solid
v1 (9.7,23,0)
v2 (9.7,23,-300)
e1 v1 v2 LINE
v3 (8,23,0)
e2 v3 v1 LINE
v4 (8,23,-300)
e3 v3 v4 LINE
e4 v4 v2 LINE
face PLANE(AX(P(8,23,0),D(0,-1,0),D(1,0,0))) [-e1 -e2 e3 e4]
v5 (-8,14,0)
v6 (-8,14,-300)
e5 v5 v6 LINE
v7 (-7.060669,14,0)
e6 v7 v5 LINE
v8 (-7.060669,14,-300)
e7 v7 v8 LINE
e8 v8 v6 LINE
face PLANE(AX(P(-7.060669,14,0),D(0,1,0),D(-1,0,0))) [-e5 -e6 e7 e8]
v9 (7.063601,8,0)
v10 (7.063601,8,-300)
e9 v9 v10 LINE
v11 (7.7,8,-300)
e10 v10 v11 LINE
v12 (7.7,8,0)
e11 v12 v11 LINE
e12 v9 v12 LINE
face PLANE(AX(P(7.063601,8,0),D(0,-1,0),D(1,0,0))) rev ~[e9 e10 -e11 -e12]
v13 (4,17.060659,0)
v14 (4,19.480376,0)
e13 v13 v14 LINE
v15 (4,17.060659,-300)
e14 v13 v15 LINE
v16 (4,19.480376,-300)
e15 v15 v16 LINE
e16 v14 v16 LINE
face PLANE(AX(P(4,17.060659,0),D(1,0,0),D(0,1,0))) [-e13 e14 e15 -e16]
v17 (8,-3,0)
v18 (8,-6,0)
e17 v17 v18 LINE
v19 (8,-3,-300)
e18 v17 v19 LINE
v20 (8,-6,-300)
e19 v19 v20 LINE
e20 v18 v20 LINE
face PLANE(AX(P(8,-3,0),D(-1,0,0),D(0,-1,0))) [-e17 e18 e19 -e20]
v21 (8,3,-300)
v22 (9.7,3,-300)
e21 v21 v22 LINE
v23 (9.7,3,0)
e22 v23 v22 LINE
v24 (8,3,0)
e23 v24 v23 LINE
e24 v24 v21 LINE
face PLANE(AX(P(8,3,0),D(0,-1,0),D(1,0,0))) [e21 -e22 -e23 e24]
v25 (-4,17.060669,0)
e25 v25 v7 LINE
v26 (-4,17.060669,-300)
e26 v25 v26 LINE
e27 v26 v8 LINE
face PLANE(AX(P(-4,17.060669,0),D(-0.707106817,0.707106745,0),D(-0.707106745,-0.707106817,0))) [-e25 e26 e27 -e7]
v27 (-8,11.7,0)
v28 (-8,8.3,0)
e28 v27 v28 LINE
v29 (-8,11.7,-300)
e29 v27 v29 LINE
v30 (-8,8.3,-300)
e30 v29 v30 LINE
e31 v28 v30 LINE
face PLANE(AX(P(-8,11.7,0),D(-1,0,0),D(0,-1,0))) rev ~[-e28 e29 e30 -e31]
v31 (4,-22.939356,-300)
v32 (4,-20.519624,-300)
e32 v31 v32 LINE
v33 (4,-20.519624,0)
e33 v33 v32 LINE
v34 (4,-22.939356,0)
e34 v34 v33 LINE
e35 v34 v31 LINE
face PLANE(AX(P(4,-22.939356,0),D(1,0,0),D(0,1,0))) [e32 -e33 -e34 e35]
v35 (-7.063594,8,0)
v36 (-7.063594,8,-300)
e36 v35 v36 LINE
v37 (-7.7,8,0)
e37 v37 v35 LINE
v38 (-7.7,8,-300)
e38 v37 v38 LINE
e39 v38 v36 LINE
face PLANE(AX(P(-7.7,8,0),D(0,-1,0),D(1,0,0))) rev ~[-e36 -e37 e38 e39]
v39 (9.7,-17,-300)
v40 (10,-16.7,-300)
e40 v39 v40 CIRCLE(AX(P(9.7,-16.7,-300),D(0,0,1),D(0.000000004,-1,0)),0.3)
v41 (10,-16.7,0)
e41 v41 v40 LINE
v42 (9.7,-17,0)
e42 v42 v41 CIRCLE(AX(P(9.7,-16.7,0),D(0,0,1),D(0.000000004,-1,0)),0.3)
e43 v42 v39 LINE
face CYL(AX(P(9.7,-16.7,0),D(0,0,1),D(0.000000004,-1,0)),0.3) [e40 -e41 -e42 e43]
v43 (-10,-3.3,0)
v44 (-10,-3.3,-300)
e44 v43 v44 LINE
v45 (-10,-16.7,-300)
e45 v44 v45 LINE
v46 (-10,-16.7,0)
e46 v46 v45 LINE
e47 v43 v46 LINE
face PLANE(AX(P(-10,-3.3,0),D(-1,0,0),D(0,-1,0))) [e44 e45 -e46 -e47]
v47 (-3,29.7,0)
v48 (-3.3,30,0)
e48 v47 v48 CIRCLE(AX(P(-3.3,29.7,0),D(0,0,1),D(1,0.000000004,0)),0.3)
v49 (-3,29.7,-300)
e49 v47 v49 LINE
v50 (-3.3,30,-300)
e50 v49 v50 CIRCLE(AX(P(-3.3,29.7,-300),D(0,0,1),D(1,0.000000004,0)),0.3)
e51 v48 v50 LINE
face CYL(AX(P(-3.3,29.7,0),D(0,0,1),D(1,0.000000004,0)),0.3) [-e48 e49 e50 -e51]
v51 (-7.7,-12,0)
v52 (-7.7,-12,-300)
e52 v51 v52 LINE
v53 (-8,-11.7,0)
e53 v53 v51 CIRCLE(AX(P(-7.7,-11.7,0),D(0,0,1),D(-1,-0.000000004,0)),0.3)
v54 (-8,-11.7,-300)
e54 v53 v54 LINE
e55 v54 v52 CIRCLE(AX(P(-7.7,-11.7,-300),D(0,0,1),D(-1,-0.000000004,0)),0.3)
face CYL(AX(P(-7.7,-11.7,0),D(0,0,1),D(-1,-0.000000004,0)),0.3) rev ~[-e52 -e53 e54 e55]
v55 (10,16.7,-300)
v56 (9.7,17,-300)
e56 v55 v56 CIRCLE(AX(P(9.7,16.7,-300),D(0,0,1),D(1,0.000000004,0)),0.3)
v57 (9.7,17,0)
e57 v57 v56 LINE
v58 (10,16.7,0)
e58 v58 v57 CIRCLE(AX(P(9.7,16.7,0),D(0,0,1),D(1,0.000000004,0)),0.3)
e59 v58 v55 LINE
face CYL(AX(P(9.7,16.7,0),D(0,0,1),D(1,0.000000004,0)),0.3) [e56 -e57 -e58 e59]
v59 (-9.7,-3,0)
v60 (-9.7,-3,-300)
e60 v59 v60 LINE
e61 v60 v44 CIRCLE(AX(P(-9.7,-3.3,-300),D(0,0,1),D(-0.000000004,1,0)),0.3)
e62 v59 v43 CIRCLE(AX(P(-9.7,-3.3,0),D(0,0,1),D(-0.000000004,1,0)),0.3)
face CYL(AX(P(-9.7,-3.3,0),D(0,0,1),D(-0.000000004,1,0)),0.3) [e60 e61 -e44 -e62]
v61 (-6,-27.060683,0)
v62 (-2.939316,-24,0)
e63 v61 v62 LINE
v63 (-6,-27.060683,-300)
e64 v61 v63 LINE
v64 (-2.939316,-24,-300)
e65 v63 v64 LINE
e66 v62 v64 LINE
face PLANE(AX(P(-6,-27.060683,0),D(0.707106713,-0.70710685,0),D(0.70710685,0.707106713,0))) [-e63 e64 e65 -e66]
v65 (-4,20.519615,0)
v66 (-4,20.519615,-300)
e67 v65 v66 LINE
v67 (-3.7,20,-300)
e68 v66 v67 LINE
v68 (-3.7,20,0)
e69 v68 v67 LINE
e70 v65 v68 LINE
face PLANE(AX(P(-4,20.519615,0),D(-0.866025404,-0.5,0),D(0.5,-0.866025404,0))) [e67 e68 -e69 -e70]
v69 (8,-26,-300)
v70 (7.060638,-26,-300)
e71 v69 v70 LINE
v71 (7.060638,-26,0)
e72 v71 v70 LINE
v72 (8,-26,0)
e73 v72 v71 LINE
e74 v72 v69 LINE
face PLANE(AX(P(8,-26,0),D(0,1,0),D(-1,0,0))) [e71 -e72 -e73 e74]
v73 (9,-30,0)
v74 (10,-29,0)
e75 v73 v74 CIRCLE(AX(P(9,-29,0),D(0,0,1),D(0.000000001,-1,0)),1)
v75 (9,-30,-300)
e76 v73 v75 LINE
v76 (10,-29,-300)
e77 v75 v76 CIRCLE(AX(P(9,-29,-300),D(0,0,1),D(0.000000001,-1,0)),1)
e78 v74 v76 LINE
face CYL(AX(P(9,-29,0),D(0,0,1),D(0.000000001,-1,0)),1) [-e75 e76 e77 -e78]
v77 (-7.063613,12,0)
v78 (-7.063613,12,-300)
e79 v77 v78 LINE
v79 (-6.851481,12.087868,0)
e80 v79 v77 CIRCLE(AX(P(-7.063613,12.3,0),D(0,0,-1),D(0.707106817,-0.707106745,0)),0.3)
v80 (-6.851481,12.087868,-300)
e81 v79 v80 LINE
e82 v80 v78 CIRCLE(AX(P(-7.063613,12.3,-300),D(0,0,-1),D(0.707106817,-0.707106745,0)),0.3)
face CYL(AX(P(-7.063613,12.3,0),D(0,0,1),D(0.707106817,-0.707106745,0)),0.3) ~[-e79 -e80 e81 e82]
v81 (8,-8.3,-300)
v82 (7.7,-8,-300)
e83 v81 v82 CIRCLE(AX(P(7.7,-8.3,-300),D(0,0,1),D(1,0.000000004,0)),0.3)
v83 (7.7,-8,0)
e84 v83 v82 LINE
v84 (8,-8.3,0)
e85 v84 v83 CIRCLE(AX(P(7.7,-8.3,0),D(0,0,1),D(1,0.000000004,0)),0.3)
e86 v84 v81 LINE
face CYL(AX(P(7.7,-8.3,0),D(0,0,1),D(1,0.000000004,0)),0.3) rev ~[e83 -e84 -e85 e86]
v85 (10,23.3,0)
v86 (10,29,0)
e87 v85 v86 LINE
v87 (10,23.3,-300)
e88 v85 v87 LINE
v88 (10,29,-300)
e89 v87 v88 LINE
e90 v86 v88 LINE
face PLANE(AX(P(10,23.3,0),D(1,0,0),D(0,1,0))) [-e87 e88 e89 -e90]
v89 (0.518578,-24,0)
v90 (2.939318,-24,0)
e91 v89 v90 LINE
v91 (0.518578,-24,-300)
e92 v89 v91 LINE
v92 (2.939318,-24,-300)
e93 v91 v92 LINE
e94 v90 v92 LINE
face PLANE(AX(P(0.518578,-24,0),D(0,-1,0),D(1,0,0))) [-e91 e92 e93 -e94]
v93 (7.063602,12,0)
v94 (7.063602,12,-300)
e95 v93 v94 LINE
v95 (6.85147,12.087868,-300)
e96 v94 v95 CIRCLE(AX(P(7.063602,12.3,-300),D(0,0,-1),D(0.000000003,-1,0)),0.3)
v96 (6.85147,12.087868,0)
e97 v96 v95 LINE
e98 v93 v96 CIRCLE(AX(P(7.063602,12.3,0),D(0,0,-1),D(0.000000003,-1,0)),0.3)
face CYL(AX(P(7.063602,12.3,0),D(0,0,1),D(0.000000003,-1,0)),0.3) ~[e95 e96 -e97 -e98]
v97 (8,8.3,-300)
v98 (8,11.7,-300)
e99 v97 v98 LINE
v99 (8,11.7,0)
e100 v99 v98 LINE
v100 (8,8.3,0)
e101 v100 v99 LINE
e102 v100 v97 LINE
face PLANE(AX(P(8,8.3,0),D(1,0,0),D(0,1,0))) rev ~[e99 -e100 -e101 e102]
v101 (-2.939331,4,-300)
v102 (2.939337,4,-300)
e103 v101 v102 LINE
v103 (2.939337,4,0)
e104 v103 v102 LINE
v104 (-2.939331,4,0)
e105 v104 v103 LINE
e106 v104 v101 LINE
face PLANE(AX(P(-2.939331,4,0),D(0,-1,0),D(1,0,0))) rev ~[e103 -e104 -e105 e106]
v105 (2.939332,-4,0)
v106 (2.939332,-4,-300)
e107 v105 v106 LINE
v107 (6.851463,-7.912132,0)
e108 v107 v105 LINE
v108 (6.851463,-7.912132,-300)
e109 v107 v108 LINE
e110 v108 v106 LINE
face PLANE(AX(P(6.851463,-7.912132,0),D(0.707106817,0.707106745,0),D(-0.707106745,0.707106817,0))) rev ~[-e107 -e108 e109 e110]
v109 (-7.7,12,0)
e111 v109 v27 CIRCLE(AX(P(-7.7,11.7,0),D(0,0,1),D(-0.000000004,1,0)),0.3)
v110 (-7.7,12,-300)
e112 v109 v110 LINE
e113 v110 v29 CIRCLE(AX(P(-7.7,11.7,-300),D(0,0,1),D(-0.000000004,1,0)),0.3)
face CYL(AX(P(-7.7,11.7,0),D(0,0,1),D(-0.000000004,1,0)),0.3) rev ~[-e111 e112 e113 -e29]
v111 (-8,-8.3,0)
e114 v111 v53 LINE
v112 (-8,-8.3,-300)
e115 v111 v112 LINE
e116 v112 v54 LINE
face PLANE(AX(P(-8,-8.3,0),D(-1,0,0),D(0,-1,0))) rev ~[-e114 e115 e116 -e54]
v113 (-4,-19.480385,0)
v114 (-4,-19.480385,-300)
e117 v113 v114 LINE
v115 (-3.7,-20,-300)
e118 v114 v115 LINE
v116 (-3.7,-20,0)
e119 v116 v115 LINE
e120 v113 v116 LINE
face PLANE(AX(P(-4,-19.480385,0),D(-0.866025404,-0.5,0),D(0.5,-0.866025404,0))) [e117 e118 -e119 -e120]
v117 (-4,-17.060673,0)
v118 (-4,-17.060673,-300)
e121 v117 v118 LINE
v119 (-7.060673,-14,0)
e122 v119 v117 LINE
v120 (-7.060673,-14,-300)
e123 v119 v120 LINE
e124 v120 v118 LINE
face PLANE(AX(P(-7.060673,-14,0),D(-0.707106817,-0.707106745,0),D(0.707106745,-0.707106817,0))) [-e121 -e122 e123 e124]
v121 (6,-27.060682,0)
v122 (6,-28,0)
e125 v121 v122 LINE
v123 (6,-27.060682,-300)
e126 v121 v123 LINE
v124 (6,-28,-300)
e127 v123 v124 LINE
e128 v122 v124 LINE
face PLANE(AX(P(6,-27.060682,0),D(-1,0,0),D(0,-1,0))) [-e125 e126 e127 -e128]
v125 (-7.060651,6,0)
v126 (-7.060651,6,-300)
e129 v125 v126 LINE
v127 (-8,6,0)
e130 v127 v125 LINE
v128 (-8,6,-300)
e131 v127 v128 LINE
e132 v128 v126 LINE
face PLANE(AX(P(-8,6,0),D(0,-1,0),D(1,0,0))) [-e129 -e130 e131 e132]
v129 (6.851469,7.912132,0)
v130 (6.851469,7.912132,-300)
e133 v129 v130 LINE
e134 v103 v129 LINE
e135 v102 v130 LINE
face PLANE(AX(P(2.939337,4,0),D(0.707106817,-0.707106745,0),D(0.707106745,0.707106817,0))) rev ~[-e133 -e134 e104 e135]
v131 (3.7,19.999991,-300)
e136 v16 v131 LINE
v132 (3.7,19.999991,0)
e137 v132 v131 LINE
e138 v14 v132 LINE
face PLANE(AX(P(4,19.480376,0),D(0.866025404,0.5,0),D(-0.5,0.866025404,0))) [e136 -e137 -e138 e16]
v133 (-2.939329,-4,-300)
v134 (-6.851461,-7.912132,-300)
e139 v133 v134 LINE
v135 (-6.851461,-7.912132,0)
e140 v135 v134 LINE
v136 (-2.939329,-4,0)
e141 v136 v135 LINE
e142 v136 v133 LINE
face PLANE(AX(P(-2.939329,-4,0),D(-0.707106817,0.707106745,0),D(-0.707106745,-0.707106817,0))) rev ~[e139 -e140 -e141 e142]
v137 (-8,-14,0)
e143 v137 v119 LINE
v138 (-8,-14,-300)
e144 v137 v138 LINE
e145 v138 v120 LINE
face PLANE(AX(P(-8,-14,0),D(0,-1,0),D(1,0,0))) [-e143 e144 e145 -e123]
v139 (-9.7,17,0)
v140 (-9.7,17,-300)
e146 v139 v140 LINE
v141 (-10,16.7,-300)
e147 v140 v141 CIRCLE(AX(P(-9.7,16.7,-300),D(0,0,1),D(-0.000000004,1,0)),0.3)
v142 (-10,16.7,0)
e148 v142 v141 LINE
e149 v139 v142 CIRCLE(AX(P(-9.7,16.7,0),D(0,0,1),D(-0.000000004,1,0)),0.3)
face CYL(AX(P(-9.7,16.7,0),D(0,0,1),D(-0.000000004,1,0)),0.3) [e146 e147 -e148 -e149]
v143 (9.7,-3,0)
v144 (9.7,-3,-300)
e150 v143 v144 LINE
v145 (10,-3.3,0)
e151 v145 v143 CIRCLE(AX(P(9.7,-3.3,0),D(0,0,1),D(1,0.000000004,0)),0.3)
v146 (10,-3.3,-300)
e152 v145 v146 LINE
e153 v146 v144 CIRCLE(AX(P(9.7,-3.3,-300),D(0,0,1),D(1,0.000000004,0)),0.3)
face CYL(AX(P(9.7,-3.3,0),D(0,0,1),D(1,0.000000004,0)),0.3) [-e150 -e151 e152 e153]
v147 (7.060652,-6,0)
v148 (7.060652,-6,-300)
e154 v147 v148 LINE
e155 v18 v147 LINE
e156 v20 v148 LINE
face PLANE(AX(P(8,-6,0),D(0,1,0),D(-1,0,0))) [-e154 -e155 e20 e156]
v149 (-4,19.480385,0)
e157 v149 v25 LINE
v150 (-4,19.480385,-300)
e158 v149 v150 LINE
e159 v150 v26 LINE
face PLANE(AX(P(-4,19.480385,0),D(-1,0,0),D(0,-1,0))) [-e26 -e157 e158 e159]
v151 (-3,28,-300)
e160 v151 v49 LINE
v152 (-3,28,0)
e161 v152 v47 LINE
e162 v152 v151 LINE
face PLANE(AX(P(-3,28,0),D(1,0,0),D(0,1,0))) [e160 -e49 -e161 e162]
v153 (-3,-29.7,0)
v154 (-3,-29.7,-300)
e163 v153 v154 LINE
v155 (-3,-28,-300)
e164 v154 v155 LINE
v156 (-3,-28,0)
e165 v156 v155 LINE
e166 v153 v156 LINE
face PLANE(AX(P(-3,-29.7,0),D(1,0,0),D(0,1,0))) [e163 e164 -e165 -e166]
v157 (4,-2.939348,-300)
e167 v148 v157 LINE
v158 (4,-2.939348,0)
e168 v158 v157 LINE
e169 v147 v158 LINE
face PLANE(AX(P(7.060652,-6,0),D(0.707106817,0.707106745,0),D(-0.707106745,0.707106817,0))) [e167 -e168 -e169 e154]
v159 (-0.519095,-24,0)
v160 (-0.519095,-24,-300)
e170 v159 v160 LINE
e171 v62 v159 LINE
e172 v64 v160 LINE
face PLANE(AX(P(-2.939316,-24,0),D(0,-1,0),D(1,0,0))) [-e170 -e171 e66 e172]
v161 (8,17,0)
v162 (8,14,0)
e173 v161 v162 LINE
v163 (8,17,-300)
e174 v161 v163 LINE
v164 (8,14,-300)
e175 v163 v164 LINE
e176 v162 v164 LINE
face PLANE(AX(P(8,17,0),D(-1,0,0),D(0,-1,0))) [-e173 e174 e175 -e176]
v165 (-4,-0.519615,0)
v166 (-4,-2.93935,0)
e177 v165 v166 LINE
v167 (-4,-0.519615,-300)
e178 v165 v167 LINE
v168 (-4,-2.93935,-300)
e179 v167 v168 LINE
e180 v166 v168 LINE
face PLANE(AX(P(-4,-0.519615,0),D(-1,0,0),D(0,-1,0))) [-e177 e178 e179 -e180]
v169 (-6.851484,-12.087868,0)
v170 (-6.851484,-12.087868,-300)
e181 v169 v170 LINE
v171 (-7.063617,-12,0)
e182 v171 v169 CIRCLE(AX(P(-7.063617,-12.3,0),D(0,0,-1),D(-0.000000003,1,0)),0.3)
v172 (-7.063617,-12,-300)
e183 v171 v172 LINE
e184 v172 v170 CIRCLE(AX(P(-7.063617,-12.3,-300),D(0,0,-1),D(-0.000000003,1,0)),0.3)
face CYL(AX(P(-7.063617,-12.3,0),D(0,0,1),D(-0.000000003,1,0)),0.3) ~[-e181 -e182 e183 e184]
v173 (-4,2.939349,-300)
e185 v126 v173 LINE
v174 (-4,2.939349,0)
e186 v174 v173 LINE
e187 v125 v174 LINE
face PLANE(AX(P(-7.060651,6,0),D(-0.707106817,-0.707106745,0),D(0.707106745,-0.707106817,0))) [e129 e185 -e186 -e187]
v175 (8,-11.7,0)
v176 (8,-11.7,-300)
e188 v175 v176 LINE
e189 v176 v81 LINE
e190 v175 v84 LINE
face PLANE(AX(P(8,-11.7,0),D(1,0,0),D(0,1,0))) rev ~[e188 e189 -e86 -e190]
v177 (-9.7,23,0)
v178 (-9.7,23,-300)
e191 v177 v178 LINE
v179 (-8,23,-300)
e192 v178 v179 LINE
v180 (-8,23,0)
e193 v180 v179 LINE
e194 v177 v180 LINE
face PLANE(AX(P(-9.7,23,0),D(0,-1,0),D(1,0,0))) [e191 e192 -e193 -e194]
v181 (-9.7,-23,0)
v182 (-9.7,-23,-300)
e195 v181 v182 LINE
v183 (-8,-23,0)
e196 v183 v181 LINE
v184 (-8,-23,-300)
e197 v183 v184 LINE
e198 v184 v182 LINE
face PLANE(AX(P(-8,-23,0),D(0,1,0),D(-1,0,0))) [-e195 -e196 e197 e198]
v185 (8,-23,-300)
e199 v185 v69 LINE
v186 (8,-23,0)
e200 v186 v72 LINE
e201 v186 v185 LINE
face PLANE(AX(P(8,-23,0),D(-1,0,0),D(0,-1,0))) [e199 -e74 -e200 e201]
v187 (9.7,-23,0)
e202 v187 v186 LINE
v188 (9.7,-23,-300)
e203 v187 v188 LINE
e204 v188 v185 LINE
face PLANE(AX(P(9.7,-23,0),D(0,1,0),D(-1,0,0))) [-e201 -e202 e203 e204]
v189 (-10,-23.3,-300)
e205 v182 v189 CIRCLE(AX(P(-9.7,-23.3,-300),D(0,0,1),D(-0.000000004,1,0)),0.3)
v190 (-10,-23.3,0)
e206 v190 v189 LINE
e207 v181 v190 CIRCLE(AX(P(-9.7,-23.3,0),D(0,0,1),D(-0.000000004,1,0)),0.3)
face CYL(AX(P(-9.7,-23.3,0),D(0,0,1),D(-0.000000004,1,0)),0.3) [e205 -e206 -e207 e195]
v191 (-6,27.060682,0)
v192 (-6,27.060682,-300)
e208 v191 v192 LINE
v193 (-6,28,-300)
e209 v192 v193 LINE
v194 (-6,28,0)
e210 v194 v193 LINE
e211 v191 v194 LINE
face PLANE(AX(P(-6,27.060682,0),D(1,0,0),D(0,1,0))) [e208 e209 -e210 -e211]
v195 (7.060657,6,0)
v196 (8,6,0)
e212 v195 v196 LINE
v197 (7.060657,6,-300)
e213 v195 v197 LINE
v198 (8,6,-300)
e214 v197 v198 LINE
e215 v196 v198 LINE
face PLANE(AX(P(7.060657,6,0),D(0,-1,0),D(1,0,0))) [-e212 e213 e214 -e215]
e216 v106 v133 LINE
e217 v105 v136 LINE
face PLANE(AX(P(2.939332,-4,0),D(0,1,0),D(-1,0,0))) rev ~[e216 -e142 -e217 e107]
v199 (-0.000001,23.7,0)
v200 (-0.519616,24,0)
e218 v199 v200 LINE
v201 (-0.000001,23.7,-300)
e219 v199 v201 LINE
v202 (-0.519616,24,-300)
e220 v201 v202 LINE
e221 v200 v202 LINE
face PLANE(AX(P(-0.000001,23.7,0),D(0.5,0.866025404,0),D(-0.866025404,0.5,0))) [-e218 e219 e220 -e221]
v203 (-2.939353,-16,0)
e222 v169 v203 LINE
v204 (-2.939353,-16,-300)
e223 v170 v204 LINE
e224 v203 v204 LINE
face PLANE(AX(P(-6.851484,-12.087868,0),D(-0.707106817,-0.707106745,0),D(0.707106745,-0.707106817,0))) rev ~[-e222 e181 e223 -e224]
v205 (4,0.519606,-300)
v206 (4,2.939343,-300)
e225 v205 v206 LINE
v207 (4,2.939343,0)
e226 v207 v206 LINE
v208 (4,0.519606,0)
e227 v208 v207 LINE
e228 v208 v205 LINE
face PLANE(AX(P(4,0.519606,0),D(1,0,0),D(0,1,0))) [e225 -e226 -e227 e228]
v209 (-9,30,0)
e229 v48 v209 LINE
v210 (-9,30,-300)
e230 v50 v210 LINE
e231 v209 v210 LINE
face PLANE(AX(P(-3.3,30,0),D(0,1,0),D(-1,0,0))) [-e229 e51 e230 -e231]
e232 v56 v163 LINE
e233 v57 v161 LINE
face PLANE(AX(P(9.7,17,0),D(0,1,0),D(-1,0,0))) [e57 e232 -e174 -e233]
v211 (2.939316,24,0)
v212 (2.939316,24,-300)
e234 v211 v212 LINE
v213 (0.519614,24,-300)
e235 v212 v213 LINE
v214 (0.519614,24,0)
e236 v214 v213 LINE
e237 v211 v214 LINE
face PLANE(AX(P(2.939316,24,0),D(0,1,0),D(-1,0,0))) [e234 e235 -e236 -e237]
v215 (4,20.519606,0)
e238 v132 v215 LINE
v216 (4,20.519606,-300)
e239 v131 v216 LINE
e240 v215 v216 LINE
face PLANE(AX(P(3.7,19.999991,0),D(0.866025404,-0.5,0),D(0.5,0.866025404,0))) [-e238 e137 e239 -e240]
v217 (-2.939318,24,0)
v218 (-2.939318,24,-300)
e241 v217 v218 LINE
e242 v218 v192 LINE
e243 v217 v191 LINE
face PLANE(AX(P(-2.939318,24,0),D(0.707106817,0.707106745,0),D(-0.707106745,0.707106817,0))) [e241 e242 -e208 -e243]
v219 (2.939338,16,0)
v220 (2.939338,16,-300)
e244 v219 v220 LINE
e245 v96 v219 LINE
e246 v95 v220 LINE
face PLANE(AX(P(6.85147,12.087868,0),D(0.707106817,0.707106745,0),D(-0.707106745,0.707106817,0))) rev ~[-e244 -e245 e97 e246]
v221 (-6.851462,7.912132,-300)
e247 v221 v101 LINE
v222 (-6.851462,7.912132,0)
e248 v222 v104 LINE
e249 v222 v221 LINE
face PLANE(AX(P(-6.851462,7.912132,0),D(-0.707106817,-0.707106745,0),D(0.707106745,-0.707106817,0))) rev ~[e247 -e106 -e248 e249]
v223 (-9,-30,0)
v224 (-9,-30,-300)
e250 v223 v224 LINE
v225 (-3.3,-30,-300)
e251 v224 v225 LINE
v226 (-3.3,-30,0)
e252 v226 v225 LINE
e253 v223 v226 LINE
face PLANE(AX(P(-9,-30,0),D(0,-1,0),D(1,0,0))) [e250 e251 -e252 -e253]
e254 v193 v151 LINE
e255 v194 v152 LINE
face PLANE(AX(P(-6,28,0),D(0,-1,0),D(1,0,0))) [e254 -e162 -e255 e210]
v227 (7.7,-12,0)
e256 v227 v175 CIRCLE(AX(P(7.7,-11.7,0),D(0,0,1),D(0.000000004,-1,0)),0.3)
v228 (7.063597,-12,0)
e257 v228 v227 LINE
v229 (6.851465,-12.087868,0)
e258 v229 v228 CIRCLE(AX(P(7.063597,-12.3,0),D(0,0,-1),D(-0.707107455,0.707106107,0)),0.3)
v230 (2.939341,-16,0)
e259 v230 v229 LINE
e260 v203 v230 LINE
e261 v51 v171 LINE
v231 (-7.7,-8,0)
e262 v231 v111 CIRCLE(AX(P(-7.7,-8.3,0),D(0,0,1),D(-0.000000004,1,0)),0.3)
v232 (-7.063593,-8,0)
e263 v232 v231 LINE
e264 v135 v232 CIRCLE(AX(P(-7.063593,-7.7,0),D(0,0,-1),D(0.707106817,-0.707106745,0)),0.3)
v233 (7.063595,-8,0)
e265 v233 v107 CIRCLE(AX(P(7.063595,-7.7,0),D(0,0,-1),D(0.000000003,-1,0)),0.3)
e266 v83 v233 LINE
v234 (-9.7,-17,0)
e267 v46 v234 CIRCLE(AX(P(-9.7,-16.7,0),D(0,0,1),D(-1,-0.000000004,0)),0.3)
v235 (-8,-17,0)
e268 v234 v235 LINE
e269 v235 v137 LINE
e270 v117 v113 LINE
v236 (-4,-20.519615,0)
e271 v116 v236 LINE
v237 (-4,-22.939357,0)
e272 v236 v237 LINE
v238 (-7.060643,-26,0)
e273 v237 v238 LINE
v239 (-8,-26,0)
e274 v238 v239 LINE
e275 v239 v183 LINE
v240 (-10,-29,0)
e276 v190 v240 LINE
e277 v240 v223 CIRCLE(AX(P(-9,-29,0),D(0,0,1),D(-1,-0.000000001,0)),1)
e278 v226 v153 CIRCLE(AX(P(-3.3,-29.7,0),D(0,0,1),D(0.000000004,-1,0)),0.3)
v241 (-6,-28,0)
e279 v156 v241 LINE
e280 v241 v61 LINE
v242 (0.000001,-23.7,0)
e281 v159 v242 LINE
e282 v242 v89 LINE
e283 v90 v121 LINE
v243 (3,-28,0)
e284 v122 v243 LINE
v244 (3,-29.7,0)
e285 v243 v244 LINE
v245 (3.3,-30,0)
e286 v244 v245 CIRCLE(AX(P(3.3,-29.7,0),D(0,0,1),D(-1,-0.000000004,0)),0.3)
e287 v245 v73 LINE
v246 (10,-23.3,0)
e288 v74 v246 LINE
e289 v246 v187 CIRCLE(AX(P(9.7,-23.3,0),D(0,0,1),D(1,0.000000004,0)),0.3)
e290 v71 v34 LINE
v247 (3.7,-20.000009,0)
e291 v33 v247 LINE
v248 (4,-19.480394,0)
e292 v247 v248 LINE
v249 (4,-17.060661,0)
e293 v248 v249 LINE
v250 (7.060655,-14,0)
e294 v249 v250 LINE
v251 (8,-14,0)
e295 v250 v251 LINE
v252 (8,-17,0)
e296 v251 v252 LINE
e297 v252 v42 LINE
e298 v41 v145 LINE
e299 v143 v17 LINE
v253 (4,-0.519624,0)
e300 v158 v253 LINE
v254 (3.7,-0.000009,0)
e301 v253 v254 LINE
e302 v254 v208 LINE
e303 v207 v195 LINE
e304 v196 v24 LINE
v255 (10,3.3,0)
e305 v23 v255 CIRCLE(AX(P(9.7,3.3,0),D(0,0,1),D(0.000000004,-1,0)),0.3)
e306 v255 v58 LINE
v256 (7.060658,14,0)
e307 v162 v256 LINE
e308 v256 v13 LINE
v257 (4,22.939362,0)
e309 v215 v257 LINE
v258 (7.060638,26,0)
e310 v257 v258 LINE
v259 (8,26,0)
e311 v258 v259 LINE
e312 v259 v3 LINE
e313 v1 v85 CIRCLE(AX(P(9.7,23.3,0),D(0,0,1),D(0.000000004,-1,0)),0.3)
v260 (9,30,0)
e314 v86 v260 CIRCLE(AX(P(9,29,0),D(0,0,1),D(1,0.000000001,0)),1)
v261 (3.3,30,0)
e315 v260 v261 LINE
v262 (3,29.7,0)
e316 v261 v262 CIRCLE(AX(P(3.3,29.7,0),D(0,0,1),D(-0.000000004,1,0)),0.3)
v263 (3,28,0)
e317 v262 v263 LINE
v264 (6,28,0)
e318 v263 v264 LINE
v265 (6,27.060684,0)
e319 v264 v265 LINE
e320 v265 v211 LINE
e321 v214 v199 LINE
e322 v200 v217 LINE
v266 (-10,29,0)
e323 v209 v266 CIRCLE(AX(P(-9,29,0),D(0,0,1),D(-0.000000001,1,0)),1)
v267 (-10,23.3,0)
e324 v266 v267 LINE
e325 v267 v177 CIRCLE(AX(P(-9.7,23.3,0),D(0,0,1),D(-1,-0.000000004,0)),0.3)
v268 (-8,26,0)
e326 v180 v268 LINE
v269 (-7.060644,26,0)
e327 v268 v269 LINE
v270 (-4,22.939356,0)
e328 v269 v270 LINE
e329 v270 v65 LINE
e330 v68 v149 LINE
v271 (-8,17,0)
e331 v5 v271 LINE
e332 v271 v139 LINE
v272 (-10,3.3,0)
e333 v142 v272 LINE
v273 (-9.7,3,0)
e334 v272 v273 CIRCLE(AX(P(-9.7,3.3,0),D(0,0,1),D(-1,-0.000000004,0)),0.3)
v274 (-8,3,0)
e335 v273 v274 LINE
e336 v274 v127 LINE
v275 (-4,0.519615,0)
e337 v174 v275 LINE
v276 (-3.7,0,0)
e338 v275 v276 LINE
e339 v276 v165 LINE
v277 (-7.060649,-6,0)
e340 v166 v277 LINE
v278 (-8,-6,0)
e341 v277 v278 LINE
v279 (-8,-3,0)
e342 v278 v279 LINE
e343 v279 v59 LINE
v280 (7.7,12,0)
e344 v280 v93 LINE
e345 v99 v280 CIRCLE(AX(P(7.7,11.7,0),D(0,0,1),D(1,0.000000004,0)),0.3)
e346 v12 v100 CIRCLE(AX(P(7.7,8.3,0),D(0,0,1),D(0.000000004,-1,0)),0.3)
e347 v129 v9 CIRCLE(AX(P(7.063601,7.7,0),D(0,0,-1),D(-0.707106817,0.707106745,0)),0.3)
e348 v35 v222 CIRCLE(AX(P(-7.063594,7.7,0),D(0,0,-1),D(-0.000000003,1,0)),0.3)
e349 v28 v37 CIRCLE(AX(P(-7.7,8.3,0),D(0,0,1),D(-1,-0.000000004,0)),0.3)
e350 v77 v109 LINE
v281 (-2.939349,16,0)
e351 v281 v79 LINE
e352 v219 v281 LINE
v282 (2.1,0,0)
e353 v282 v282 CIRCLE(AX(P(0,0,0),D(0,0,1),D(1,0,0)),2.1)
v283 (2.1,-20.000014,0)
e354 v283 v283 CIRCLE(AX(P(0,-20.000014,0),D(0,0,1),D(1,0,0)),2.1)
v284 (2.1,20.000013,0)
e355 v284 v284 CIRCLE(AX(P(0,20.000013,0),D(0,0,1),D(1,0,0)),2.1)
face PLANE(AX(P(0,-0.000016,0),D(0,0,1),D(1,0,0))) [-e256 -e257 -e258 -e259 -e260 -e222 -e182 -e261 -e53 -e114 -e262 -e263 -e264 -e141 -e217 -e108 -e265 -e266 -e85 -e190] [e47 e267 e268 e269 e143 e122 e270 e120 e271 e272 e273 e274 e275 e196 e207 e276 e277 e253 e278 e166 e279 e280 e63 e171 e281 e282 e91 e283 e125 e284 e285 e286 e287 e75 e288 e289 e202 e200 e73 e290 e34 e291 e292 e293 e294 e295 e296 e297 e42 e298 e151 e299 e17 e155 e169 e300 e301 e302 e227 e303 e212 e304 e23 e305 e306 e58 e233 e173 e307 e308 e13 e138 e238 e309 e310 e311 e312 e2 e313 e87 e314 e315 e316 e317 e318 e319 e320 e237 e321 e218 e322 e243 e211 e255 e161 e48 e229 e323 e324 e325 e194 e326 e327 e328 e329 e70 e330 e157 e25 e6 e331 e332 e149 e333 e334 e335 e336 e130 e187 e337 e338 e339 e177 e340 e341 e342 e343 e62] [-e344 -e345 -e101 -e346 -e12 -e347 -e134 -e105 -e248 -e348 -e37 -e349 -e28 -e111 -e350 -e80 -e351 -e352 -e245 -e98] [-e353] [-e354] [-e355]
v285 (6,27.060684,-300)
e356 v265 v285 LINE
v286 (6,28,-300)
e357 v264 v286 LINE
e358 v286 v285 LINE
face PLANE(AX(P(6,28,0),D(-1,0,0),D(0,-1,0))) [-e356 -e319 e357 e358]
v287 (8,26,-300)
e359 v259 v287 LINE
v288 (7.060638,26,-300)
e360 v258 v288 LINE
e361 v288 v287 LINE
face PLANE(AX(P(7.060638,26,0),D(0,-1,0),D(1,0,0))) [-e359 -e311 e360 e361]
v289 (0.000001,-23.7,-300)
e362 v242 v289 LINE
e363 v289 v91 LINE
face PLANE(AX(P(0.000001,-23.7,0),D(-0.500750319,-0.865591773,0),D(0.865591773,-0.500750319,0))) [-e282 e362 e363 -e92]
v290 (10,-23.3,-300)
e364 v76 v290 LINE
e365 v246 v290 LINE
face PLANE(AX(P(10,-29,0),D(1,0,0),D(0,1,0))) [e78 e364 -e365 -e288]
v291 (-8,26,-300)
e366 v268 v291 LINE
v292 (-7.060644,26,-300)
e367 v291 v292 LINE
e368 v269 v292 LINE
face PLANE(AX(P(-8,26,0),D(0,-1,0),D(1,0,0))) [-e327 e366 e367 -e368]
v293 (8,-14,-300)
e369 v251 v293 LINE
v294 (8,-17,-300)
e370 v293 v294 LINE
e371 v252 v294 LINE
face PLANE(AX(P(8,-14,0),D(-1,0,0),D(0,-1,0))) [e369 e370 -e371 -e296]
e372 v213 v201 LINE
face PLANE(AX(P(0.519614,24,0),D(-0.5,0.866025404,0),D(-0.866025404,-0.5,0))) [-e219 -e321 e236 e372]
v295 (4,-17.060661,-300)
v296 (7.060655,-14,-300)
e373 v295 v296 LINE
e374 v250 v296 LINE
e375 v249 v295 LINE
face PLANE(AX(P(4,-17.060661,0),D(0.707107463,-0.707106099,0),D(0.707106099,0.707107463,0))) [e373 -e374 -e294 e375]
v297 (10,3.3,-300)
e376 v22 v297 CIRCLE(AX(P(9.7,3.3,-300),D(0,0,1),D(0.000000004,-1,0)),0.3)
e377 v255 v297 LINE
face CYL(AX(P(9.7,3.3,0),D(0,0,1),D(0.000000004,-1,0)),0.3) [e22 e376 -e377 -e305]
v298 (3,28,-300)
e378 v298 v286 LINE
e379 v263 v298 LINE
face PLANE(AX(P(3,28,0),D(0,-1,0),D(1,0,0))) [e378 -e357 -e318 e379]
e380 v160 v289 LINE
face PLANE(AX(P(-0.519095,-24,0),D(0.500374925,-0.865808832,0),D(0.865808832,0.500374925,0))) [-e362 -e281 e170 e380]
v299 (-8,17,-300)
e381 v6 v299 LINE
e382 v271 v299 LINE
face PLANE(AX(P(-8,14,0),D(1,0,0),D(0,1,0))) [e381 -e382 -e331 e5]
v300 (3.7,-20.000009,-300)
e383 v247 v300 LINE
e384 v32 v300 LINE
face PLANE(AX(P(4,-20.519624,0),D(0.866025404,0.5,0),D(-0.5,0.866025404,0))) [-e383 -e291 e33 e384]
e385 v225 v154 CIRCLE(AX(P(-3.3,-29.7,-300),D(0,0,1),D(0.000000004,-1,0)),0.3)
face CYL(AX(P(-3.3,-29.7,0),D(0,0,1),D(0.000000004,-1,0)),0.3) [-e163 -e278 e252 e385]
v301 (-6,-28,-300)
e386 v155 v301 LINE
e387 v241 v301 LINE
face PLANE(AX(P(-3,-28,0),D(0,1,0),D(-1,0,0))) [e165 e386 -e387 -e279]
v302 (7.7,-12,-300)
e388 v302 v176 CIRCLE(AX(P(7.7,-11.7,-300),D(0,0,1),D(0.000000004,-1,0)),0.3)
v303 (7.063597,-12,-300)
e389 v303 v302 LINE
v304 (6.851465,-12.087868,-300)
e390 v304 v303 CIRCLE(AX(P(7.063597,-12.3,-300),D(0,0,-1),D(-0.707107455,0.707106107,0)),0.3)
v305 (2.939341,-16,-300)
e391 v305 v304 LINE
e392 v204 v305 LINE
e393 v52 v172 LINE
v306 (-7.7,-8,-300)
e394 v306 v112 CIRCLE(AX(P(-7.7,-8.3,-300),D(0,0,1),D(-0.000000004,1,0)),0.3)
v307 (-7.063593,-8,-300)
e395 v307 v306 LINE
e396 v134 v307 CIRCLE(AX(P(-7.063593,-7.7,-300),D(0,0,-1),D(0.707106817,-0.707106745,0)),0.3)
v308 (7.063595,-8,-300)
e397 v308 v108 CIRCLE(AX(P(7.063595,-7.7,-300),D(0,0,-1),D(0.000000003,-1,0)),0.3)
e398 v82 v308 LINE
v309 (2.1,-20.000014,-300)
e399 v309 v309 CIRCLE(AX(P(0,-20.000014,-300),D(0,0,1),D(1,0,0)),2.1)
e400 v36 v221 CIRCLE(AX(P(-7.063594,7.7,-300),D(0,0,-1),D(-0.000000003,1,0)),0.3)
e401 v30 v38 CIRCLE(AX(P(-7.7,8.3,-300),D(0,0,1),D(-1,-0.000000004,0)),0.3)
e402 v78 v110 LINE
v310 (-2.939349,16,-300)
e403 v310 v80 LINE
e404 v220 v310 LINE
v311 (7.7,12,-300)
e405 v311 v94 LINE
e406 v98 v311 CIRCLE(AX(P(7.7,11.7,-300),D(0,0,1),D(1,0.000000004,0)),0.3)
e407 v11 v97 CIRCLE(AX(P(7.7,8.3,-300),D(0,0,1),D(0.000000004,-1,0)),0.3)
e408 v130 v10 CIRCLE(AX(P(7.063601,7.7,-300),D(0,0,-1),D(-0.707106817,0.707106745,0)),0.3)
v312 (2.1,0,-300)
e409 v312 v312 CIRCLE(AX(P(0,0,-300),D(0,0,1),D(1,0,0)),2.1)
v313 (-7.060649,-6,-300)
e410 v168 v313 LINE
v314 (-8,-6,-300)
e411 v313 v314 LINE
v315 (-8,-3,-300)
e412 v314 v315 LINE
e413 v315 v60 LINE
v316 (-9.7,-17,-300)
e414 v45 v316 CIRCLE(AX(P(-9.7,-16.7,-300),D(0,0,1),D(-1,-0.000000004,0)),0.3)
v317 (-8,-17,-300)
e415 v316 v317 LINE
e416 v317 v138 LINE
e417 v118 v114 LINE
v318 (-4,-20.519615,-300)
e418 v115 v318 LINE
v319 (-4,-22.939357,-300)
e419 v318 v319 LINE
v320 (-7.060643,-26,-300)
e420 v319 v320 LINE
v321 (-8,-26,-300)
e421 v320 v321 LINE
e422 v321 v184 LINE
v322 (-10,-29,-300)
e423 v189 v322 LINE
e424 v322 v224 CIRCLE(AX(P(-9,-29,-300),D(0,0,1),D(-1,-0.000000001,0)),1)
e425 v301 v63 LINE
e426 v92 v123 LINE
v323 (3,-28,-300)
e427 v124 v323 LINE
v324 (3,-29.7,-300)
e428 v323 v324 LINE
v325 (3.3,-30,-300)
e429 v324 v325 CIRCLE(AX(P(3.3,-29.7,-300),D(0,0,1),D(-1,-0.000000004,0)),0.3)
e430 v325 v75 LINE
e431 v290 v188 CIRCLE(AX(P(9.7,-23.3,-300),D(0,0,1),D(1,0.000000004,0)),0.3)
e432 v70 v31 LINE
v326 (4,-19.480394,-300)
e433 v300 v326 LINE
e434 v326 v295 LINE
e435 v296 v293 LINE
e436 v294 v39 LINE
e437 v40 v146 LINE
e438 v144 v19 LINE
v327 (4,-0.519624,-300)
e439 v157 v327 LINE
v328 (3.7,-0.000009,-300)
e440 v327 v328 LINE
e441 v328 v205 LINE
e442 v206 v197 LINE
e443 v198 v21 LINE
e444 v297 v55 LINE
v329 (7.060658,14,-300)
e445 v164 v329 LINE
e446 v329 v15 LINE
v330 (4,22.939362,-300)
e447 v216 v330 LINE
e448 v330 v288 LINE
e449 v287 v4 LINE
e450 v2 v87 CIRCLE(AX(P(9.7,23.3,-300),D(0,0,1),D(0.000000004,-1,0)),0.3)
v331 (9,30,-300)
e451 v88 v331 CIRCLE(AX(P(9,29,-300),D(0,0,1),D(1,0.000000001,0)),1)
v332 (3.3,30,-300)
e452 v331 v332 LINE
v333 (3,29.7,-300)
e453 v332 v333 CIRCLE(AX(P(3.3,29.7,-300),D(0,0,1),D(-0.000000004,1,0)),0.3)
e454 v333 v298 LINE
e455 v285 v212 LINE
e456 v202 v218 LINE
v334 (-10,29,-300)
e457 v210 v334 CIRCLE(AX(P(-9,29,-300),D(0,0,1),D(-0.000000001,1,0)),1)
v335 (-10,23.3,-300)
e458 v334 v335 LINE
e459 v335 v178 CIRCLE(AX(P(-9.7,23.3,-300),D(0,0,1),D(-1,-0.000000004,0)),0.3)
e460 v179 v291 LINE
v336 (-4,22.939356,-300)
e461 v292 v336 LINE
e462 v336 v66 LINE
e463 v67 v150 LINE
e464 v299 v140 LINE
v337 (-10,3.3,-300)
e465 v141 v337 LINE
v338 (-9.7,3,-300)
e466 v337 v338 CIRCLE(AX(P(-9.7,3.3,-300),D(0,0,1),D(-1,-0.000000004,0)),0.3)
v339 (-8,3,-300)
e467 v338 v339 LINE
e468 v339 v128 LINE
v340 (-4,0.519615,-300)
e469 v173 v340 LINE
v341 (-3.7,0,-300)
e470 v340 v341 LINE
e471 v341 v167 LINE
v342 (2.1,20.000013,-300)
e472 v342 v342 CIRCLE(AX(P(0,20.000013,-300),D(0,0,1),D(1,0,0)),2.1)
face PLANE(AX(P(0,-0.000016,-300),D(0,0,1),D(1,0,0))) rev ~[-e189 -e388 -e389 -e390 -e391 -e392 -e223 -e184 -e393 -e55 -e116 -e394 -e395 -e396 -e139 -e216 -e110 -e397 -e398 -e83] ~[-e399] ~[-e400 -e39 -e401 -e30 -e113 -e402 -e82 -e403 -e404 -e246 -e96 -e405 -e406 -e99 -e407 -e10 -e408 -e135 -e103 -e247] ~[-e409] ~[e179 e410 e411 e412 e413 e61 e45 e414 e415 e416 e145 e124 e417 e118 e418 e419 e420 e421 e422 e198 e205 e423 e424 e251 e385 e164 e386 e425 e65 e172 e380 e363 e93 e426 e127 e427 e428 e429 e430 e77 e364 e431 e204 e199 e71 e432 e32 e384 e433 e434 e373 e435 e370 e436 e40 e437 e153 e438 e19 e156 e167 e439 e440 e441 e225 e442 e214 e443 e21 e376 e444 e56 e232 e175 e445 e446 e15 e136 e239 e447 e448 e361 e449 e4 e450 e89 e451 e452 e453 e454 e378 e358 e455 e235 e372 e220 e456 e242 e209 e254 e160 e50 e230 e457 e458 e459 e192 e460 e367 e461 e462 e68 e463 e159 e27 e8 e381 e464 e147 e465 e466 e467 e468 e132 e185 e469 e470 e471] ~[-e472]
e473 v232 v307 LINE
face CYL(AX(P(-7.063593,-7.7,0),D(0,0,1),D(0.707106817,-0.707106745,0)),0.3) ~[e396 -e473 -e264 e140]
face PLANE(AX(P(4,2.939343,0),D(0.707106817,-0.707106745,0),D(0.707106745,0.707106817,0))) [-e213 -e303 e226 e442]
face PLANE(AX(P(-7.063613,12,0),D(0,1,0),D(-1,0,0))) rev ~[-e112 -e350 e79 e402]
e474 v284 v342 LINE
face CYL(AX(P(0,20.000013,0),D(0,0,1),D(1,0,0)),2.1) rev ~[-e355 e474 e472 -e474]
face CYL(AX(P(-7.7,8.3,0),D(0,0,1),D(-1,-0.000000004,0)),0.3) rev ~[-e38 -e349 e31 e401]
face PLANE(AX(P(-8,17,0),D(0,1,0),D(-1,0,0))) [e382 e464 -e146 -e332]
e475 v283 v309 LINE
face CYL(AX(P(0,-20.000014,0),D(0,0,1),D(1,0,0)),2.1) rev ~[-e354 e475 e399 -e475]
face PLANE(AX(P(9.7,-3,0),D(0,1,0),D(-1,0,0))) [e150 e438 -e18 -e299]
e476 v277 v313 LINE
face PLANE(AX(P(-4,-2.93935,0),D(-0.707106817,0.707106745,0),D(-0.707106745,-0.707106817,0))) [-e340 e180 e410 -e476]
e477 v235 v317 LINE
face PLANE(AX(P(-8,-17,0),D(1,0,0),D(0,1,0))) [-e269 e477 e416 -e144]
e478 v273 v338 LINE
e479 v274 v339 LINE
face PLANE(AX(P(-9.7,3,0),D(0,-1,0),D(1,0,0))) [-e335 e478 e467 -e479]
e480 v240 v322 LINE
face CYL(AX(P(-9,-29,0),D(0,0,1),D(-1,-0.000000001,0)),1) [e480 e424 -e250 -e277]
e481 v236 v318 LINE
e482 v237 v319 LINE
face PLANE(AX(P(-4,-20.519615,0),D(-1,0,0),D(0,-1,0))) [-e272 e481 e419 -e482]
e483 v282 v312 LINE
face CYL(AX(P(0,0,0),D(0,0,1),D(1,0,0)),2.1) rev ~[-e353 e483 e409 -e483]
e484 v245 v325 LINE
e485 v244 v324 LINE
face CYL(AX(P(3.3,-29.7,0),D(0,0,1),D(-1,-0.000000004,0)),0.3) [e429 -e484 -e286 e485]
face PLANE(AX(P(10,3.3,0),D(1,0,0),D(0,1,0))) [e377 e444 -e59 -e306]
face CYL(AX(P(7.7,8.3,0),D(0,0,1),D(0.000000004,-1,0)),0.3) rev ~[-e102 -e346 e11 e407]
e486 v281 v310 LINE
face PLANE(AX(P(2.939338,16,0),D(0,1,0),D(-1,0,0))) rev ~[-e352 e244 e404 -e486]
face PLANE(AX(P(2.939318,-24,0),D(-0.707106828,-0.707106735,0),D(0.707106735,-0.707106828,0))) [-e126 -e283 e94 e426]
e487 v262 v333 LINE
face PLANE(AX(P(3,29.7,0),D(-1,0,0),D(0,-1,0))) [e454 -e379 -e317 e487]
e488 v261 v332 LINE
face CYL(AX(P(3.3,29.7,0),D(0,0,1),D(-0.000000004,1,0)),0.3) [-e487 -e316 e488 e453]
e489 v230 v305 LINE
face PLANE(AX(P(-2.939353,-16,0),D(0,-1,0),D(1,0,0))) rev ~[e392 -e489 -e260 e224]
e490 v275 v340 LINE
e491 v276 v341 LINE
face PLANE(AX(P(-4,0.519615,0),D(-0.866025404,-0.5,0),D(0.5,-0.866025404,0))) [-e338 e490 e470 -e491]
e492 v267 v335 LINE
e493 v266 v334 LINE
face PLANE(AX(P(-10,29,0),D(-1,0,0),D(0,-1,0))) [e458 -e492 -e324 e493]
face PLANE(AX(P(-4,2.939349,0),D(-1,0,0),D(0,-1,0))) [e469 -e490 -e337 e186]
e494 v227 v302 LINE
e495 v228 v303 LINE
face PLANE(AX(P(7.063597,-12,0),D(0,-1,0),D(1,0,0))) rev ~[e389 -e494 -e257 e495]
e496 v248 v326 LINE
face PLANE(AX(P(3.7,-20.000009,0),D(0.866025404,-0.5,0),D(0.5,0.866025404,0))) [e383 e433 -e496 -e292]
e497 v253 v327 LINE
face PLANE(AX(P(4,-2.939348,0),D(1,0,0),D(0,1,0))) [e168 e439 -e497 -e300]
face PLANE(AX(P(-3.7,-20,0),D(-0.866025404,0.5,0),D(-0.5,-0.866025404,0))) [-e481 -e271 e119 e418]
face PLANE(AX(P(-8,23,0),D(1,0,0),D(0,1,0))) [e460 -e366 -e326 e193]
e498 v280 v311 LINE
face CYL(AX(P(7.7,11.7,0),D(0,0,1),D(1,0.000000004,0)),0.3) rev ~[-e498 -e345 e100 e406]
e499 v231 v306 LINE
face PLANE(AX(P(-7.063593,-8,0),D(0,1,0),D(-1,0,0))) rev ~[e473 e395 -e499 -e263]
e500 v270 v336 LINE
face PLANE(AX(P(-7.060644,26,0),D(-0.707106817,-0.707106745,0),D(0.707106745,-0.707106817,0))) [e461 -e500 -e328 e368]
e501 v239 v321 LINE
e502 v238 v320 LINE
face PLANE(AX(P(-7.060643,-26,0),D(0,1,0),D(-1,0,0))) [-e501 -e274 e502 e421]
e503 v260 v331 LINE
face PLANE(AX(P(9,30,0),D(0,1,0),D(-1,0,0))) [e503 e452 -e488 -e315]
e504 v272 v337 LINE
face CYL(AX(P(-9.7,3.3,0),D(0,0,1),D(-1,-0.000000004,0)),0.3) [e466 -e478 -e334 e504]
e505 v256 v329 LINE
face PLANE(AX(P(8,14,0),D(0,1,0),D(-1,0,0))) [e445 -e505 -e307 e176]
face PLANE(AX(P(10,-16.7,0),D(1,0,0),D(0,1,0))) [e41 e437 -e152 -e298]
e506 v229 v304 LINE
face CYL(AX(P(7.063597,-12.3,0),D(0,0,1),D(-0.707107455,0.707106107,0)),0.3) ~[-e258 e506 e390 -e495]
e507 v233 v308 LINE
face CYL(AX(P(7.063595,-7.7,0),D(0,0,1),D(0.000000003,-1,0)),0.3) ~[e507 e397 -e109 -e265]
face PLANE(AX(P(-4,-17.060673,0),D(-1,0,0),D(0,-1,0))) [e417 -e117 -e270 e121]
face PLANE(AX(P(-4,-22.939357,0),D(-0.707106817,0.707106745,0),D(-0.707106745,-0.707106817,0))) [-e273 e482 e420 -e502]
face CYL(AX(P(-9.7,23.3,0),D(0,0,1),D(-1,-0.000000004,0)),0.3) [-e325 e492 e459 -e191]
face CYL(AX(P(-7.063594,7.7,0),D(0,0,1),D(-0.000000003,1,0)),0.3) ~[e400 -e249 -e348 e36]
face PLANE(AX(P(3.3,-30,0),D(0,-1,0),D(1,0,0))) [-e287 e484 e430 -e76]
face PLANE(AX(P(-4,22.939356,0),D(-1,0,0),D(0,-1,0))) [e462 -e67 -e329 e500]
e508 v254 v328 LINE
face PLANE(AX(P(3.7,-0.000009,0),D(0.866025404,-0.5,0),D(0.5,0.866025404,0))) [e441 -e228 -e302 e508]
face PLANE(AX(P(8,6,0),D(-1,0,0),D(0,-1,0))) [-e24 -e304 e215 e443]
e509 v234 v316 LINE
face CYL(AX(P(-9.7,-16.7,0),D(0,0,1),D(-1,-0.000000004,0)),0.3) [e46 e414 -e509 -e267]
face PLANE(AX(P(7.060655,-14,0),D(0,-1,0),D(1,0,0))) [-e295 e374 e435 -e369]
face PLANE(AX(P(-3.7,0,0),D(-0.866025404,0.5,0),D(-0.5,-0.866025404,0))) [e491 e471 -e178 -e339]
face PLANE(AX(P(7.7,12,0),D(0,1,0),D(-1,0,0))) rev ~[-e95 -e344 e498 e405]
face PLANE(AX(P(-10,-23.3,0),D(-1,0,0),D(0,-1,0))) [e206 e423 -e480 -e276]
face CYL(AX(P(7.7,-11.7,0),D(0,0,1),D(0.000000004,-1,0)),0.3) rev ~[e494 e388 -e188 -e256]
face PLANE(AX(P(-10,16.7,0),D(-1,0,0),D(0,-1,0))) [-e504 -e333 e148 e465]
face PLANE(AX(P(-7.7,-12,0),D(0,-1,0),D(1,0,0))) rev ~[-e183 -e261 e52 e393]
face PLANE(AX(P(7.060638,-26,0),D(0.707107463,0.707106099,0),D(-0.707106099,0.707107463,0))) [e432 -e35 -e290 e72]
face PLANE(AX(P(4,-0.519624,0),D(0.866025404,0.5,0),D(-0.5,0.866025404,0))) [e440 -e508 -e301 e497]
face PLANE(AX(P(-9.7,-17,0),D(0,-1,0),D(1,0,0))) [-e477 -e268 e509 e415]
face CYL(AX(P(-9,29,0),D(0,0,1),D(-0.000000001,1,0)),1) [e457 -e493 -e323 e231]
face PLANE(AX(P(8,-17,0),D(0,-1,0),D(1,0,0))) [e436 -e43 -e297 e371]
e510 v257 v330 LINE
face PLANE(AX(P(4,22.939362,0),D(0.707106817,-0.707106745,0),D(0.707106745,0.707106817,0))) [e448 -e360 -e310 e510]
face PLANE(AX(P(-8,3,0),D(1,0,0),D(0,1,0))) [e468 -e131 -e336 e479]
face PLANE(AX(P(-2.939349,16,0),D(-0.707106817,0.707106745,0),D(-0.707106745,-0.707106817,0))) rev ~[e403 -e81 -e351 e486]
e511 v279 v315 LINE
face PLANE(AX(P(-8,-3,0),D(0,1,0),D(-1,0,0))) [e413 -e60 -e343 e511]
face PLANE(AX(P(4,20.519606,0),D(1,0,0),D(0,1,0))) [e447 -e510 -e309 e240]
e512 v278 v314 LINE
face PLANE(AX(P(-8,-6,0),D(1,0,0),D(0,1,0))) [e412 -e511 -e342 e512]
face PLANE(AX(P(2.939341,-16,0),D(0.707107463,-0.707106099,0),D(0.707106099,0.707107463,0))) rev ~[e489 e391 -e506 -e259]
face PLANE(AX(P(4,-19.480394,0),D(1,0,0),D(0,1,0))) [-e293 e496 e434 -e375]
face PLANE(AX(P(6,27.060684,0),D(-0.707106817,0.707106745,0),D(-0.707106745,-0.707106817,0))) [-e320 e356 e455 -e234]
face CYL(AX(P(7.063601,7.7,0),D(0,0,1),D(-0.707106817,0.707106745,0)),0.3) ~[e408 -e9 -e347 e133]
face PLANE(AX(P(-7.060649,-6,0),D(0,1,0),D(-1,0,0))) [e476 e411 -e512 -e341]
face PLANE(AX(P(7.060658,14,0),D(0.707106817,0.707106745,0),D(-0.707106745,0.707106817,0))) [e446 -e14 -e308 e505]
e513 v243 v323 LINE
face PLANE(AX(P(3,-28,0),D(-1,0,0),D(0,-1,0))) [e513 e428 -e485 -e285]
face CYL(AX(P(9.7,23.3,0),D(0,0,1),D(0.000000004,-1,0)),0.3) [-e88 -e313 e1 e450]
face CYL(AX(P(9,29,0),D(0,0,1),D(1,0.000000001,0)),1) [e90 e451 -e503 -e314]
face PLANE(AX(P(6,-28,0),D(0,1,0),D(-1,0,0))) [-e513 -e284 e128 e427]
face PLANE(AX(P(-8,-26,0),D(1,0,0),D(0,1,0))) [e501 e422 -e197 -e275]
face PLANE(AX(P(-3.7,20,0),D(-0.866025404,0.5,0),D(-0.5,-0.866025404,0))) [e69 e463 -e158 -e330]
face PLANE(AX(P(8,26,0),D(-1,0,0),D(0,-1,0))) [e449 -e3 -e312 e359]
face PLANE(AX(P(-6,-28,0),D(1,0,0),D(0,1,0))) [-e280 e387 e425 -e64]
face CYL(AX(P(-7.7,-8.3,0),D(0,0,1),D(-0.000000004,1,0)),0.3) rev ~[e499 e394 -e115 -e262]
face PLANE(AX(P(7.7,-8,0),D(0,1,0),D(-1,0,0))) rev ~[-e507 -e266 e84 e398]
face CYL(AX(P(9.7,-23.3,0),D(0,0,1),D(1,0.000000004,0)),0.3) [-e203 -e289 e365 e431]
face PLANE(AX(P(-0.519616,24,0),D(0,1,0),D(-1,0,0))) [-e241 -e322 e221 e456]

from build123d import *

# Parameters (mm, degrees)
SKETCH1_R           = 2.0999999
BOSS_EXTRUDE1_DEPTH = 300


with BuildPart() as part:
    # Sketch1 → Boss-Extrude1 (new body)
    with BuildSketch(Plane.XY):
        with BuildLine():
            Line((-10, 16.7), (-10, 3.3))
            ThreePointArc((-10, 3.3), (-9.912132034, 3.087867966), (-9.7, 3))
            Line((-9.7, 3), (-8, 3))
            Line((-8, 3), (-8, 6))
            Line((-8, 6), (-7.060650687, 6))
            Line((-7.060650687, 6), (-4, 2.939349))
            Line((-4, 2.939349), (-4, 0.519615242))
            Line((-4, 0.519615242), (-3.7, 0))
            Line((-3.7, 0), (-4, -0.519615242))
            Line((-4, -0.519615242), (-4, -2.9393502))
            Line((-4, -2.9393502), (-7.060649487, -6))
            Line((-7.060649487, -6), (-8, -6))
            Line((-8, -6), (-8, -3))
            Line((-8, -3), (-9.7, -3))
            ThreePointArc((-9.7, -3), (-9.912132034, -3.087867966), (-10, -3.3))
            Line((-10, -3.3), (-10, -16.7))
            ThreePointArc((-10, -16.7), (-9.912132034, -16.912132034), (-9.7, -17))
            Line((-9.7, -17), (-8, -17))
            Line((-8, -17), (-8, -14))
            Line((-8, -14), (-7.060672887, -14))
            Line((-7.060672887, -14), (-4, -17.0606732))
            Line((-4, -17.0606732), (-4, -19.480384758))
            Line((-4, -19.480384758), (-3.7, -20))
            Line((-3.7, -20), (-4, -20.519615242))
            Line((-4, -20.519615242), (-4, -22.93935665))
            Line((-4, -22.93935665), (-7.060643037, -26))
            Line((-7.060643037, -26), (-8, -26))
            Line((-8, -26), (-8, -23))
            Line((-8, -23), (-9.7, -23))
            ThreePointArc((-9.7, -23), (-9.912132034, -23.087867966), (-10, -23.3))
            Line((-10, -23.3), (-10, -29))
            ThreePointArc((-10, -29), (-9.707106781, -29.707106781), (-9, -30))
            Line((-9, -30), (-3.3, -30))
            ThreePointArc((-3.3, -30), (-3.087867966, -29.912132034), (-3, -29.7))
            Line((-3, -29.7), (-3, -28))
            Line((-3, -28), (-6, -28))
            Line((-6, -28), (-6, -27.060683408))
            Line((-6, -27.060683408), (-2.939316, -24))
            Line((-2.939316, -24), (-0.519095055, -24))
            Line((-0.519095055, -24), (1e-06, -23.7))
            Line((1e-06, -23.7), (0.518577868, -24))
            Line((0.518577868, -24), (2.939318, -24))
            Line((2.939318, -24), (6, -27.060682403))
            Line((6, -27.060682403), (6, -28))
            Line((6, -28), (3, -28))
            Line((3, -28), (3, -29.7))
            ThreePointArc((3, -29.7), (3.087867966, -29.912132034), (3.3, -30))
            Line((3.3, -30), (9, -30))
            ThreePointArc((9, -30), (9.707106781, -29.707106781), (10, -29))
            Line((10, -29), (10, -23.3))
            ThreePointArc((10, -23.3), (9.912132034, -23.087867966), (9.7, -23))
            Line((9.7, -23), (8, -23))
            Line((8, -23), (8, -26))
            Line((8, -26), (7.060637687, -26))
            Line((7.060637687, -26), (4, -22.93935641))
            Line((4, -22.93935641), (4, -20.519623992))
            Line((4, -20.519623992), (3.7, -20.00000875))
            Line((3.7, -20.00000875), (4, -19.480393508))
            Line((4, -19.480393508), (4, -17.06066109))
            Line((4, -17.06066109), (7.060655187, -14))
            Line((7.060655187, -14), (8, -14))
            Line((8, -14), (8, -17))
            Line((8, -17), (9.7, -17))
            ThreePointArc((9.7, -17), (9.912132034, -16.912132034), (10, -16.7))
            Line((10, -16.7), (10, -3.3))
            ThreePointArc((10, -3.3), (9.912132034, -3.087867966), (9.7, -3))
            Line((9.7, -3), (8, -3))
            Line((8, -3), (8, -6))
            Line((8, -6), (7.060651537, -6))
            Line((7.060651537, -6), (4, -2.93934815))
            Line((4, -2.93934815), (4, -0.519623992))
            Line((4, -0.519623992), (3.7, -8.75e-06))
            Line((3.7, -8.75e-06), (4, 0.519606492))
            Line((4, 0.519606492), (4, 2.9393426))
            Line((4, 2.9393426), (7.060657087, 6))
            Line((7.060657087, 6), (8, 6))
            Line((8, 6), (8, 3))
            Line((8, 3), (9.7, 3))
            ThreePointArc((9.7, 3), (9.912132034, 3.087867966), (10, 3.3))
            Line((10, 3.3), (10, 16.7))
            ThreePointArc((10, 16.7), (9.912132034, 16.912132034), (9.7, 17))
            Line((9.7, 17), (8, 17))
            Line((8, 17), (8, 14))
            Line((8, 14), (7.06065821, 14))
            Line((7.06065821, 14), (4, 17.060658523))
            Line((4, 17.060658523), (4, 19.480376008))
            Line((4, 19.480376008), (3.7, 19.99999125))
            Line((3.7, 19.99999125), (4, 20.519606492))
            Line((4, 20.519606492), (4, 22.939362173))
            Line((4, 22.939362173), (7.060637514, 26))
            Line((7.060637514, 26), (8, 26))
            Line((8, 26), (8, 23))
            Line((8, 23), (9.7, 23))
            ThreePointArc((9.7, 23), (9.912132034, 23.087867966), (10, 23.3))
            Line((10, 23.3), (10, 29))
            ThreePointArc((10, 29), (9.707106781, 29.707106781), (9, 30))
            Line((9, 30), (3.3, 30))
            ThreePointArc((3.3, 30), (3.087867966, 29.912132034), (3, 29.7))
            Line((3, 29.7), (3, 28))
            Line((3, 28), (6, 28))
            Line((6, 28), (6, 27.060684313))
            Line((6, 27.060684313), (2.939316, 24))
            Line((2.939316, 24), (0.519614242, 24))
            Line((0.519614242, 24), (-1e-06, 23.7))
            Line((-1e-06, 23.7), (-0.519616242, 24))
            Line((-0.519616242, 24), (-2.939318, 24))
            Line((-2.939318, 24), (-6, 27.060682313))
            Line((-6, 27.060682313), (-6, 28))
            Line((-6, 28), (-3, 28))
            Line((-3, 28), (-3, 29.7))
            ThreePointArc((-3, 29.7), (-3.087867966, 29.912132034), (-3.3, 30))
            Line((-3.3, 30), (-9, 30))
            ThreePointArc((-9, 30), (-9.707106781, 29.707106781), (-10, 29))
            Line((-10, 29), (-10, 23.3))
            ThreePointArc((-10, 23.3), (-9.912132034, 23.087867966), (-9.7, 23))
            Line((-9.7, 23), (-8, 23))
            Line((-8, 23), (-8, 26))
            Line((-8, 26), (-7.060644014, 26))
            Line((-7.060644014, 26), (-4, 22.939355673))
            Line((-4, 22.939355673), (-4, 20.519615242))
            Line((-4, 20.519615242), (-3.7, 20))
            Line((-3.7, 20), (-4, 19.480384758))
            Line((-4, 19.480384758), (-4, 17.060669373))
            Line((-4, 17.060669373), (-7.06066906, 14))
            Line((-7.06066906, 14), (-8, 14))
            Line((-8, 14), (-8, 17))
            Line((-8, 17), (-9.7, 17))
            ThreePointArc((-9.7, 17), (-9.912132034, 16.912132034), (-10, 16.7))
        make_face()
        with Locations((0, 20.000013123)):
            Circle(SKETCH1_R, mode=Mode.SUBTRACT)
        Circle(SKETCH1_R, mode=Mode.SUBTRACT)
        with Locations((0, -20.000013525)):
            Circle(SKETCH1_R, mode=Mode.SUBTRACT)
        with BuildLine():
            Line((-7.7, 8), (-7.063594325, 8))
            ThreePointArc((-7.063594325, 8), (-6.948789288, 7.977163857), (-6.85146228, 7.912132024))
            Line((-6.85146228, 7.912132024), (-2.939330656, 4))
            Line((-2.939330656, 4), (2.939337056, 4))
            Line((2.939337056, 4), (6.85146868, 7.912132024))
            ThreePointArc((6.85146868, 7.912132024), (6.948795688, 7.977163857), (7.063600725, 8))
            Line((7.063600725, 8), (7.7, 8))
            ThreePointArc((7.7, 8), (7.912132034, 8.087867966), (8, 8.3))
            Line((8, 8.3), (8, 11.7))
            ThreePointArc((8, 11.7), (7.912132034, 11.912132034), (7.7, 12))
            Line((7.7, 12), (7.063601848, 12))
            ThreePointArc((7.063601848, 12), (6.948796811, 12.022836143), (6.851469803, 12.087867976))
            Line((6.851469803, 12.087867976), (2.939338179, 16))
            Line((2.939338179, 16), (-2.939349029, 16))
            Line((-2.939349029, 16), (-6.851480653, 12.087867976))
            ThreePointArc((-6.851480653, 12.087867976), (-6.948807661, 12.022836143), (-7.063612698, 12))
            Line((-7.063612698, 12), (-7.7, 12))
            ThreePointArc((-7.7, 12), (-7.912132034, 11.912132034), (-8, 11.7))
            Line((-8, 11.7), (-8, 8.3))
            ThreePointArc((-8, 8.3), (-7.912132034, 8.087867966), (-7.7, 8))
        make_face(mode=Mode.SUBTRACT)
        with BuildLine():
            Line((-8, -8.3), (-8, -11.7))
            ThreePointArc((-8, -11.7), (-7.912132034, -11.912132034), (-7.7, -12))
            Line((-7.7, -12), (-7.063616525, -12))
            ThreePointArc((-7.063616525, -12), (-6.948811488, -12.022836143), (-6.85148448, -12.087867976))
            Line((-6.85148448, -12.087867976), (-2.939352856, -16))
            Line((-2.939352856, -16), (2.939340746, -16))
            Line((2.939340746, -16), (6.851465031, -12.08786817))
            ThreePointArc((6.851465031, -12.08786817), (6.948792107, -12.022836196), (7.06359727, -12))
            Line((7.06359727, -12), (7.7, -12))
            ThreePointArc((7.7, -12), (7.912132034, -11.912132034), (8, -11.7))
            Line((8, -11.7), (8, -8.3))
            ThreePointArc((8, -8.3), (7.912132034, -8.087867966), (7.7, -8))
            Line((7.7, -8), (7.063595175, -8))
            ThreePointArc((7.063595175, -8), (6.948790138, -7.977163857), (6.85146313, -7.912132024))
            Line((6.85146313, -7.912132024), (2.939331506, -4))
            Line((2.939331506, -4), (-2.939329456, -4))
            Line((-2.939329456, -4), (-6.85146108, -7.912132024))
            ThreePointArc((-6.85146108, -7.912132024), (-6.948788088, -7.977163857), (-7.063593125, -8))
            Line((-7.063593125, -8), (-7.7, -8))
            ThreePointArc((-7.7, -8), (-7.912132034, -8.087867966), (-8, -8.3))
        make_face(mode=Mode.SUBTRACT)
    extrude(amount=-BOSS_EXTRUDE1_DEPTH)


solid = part.part
